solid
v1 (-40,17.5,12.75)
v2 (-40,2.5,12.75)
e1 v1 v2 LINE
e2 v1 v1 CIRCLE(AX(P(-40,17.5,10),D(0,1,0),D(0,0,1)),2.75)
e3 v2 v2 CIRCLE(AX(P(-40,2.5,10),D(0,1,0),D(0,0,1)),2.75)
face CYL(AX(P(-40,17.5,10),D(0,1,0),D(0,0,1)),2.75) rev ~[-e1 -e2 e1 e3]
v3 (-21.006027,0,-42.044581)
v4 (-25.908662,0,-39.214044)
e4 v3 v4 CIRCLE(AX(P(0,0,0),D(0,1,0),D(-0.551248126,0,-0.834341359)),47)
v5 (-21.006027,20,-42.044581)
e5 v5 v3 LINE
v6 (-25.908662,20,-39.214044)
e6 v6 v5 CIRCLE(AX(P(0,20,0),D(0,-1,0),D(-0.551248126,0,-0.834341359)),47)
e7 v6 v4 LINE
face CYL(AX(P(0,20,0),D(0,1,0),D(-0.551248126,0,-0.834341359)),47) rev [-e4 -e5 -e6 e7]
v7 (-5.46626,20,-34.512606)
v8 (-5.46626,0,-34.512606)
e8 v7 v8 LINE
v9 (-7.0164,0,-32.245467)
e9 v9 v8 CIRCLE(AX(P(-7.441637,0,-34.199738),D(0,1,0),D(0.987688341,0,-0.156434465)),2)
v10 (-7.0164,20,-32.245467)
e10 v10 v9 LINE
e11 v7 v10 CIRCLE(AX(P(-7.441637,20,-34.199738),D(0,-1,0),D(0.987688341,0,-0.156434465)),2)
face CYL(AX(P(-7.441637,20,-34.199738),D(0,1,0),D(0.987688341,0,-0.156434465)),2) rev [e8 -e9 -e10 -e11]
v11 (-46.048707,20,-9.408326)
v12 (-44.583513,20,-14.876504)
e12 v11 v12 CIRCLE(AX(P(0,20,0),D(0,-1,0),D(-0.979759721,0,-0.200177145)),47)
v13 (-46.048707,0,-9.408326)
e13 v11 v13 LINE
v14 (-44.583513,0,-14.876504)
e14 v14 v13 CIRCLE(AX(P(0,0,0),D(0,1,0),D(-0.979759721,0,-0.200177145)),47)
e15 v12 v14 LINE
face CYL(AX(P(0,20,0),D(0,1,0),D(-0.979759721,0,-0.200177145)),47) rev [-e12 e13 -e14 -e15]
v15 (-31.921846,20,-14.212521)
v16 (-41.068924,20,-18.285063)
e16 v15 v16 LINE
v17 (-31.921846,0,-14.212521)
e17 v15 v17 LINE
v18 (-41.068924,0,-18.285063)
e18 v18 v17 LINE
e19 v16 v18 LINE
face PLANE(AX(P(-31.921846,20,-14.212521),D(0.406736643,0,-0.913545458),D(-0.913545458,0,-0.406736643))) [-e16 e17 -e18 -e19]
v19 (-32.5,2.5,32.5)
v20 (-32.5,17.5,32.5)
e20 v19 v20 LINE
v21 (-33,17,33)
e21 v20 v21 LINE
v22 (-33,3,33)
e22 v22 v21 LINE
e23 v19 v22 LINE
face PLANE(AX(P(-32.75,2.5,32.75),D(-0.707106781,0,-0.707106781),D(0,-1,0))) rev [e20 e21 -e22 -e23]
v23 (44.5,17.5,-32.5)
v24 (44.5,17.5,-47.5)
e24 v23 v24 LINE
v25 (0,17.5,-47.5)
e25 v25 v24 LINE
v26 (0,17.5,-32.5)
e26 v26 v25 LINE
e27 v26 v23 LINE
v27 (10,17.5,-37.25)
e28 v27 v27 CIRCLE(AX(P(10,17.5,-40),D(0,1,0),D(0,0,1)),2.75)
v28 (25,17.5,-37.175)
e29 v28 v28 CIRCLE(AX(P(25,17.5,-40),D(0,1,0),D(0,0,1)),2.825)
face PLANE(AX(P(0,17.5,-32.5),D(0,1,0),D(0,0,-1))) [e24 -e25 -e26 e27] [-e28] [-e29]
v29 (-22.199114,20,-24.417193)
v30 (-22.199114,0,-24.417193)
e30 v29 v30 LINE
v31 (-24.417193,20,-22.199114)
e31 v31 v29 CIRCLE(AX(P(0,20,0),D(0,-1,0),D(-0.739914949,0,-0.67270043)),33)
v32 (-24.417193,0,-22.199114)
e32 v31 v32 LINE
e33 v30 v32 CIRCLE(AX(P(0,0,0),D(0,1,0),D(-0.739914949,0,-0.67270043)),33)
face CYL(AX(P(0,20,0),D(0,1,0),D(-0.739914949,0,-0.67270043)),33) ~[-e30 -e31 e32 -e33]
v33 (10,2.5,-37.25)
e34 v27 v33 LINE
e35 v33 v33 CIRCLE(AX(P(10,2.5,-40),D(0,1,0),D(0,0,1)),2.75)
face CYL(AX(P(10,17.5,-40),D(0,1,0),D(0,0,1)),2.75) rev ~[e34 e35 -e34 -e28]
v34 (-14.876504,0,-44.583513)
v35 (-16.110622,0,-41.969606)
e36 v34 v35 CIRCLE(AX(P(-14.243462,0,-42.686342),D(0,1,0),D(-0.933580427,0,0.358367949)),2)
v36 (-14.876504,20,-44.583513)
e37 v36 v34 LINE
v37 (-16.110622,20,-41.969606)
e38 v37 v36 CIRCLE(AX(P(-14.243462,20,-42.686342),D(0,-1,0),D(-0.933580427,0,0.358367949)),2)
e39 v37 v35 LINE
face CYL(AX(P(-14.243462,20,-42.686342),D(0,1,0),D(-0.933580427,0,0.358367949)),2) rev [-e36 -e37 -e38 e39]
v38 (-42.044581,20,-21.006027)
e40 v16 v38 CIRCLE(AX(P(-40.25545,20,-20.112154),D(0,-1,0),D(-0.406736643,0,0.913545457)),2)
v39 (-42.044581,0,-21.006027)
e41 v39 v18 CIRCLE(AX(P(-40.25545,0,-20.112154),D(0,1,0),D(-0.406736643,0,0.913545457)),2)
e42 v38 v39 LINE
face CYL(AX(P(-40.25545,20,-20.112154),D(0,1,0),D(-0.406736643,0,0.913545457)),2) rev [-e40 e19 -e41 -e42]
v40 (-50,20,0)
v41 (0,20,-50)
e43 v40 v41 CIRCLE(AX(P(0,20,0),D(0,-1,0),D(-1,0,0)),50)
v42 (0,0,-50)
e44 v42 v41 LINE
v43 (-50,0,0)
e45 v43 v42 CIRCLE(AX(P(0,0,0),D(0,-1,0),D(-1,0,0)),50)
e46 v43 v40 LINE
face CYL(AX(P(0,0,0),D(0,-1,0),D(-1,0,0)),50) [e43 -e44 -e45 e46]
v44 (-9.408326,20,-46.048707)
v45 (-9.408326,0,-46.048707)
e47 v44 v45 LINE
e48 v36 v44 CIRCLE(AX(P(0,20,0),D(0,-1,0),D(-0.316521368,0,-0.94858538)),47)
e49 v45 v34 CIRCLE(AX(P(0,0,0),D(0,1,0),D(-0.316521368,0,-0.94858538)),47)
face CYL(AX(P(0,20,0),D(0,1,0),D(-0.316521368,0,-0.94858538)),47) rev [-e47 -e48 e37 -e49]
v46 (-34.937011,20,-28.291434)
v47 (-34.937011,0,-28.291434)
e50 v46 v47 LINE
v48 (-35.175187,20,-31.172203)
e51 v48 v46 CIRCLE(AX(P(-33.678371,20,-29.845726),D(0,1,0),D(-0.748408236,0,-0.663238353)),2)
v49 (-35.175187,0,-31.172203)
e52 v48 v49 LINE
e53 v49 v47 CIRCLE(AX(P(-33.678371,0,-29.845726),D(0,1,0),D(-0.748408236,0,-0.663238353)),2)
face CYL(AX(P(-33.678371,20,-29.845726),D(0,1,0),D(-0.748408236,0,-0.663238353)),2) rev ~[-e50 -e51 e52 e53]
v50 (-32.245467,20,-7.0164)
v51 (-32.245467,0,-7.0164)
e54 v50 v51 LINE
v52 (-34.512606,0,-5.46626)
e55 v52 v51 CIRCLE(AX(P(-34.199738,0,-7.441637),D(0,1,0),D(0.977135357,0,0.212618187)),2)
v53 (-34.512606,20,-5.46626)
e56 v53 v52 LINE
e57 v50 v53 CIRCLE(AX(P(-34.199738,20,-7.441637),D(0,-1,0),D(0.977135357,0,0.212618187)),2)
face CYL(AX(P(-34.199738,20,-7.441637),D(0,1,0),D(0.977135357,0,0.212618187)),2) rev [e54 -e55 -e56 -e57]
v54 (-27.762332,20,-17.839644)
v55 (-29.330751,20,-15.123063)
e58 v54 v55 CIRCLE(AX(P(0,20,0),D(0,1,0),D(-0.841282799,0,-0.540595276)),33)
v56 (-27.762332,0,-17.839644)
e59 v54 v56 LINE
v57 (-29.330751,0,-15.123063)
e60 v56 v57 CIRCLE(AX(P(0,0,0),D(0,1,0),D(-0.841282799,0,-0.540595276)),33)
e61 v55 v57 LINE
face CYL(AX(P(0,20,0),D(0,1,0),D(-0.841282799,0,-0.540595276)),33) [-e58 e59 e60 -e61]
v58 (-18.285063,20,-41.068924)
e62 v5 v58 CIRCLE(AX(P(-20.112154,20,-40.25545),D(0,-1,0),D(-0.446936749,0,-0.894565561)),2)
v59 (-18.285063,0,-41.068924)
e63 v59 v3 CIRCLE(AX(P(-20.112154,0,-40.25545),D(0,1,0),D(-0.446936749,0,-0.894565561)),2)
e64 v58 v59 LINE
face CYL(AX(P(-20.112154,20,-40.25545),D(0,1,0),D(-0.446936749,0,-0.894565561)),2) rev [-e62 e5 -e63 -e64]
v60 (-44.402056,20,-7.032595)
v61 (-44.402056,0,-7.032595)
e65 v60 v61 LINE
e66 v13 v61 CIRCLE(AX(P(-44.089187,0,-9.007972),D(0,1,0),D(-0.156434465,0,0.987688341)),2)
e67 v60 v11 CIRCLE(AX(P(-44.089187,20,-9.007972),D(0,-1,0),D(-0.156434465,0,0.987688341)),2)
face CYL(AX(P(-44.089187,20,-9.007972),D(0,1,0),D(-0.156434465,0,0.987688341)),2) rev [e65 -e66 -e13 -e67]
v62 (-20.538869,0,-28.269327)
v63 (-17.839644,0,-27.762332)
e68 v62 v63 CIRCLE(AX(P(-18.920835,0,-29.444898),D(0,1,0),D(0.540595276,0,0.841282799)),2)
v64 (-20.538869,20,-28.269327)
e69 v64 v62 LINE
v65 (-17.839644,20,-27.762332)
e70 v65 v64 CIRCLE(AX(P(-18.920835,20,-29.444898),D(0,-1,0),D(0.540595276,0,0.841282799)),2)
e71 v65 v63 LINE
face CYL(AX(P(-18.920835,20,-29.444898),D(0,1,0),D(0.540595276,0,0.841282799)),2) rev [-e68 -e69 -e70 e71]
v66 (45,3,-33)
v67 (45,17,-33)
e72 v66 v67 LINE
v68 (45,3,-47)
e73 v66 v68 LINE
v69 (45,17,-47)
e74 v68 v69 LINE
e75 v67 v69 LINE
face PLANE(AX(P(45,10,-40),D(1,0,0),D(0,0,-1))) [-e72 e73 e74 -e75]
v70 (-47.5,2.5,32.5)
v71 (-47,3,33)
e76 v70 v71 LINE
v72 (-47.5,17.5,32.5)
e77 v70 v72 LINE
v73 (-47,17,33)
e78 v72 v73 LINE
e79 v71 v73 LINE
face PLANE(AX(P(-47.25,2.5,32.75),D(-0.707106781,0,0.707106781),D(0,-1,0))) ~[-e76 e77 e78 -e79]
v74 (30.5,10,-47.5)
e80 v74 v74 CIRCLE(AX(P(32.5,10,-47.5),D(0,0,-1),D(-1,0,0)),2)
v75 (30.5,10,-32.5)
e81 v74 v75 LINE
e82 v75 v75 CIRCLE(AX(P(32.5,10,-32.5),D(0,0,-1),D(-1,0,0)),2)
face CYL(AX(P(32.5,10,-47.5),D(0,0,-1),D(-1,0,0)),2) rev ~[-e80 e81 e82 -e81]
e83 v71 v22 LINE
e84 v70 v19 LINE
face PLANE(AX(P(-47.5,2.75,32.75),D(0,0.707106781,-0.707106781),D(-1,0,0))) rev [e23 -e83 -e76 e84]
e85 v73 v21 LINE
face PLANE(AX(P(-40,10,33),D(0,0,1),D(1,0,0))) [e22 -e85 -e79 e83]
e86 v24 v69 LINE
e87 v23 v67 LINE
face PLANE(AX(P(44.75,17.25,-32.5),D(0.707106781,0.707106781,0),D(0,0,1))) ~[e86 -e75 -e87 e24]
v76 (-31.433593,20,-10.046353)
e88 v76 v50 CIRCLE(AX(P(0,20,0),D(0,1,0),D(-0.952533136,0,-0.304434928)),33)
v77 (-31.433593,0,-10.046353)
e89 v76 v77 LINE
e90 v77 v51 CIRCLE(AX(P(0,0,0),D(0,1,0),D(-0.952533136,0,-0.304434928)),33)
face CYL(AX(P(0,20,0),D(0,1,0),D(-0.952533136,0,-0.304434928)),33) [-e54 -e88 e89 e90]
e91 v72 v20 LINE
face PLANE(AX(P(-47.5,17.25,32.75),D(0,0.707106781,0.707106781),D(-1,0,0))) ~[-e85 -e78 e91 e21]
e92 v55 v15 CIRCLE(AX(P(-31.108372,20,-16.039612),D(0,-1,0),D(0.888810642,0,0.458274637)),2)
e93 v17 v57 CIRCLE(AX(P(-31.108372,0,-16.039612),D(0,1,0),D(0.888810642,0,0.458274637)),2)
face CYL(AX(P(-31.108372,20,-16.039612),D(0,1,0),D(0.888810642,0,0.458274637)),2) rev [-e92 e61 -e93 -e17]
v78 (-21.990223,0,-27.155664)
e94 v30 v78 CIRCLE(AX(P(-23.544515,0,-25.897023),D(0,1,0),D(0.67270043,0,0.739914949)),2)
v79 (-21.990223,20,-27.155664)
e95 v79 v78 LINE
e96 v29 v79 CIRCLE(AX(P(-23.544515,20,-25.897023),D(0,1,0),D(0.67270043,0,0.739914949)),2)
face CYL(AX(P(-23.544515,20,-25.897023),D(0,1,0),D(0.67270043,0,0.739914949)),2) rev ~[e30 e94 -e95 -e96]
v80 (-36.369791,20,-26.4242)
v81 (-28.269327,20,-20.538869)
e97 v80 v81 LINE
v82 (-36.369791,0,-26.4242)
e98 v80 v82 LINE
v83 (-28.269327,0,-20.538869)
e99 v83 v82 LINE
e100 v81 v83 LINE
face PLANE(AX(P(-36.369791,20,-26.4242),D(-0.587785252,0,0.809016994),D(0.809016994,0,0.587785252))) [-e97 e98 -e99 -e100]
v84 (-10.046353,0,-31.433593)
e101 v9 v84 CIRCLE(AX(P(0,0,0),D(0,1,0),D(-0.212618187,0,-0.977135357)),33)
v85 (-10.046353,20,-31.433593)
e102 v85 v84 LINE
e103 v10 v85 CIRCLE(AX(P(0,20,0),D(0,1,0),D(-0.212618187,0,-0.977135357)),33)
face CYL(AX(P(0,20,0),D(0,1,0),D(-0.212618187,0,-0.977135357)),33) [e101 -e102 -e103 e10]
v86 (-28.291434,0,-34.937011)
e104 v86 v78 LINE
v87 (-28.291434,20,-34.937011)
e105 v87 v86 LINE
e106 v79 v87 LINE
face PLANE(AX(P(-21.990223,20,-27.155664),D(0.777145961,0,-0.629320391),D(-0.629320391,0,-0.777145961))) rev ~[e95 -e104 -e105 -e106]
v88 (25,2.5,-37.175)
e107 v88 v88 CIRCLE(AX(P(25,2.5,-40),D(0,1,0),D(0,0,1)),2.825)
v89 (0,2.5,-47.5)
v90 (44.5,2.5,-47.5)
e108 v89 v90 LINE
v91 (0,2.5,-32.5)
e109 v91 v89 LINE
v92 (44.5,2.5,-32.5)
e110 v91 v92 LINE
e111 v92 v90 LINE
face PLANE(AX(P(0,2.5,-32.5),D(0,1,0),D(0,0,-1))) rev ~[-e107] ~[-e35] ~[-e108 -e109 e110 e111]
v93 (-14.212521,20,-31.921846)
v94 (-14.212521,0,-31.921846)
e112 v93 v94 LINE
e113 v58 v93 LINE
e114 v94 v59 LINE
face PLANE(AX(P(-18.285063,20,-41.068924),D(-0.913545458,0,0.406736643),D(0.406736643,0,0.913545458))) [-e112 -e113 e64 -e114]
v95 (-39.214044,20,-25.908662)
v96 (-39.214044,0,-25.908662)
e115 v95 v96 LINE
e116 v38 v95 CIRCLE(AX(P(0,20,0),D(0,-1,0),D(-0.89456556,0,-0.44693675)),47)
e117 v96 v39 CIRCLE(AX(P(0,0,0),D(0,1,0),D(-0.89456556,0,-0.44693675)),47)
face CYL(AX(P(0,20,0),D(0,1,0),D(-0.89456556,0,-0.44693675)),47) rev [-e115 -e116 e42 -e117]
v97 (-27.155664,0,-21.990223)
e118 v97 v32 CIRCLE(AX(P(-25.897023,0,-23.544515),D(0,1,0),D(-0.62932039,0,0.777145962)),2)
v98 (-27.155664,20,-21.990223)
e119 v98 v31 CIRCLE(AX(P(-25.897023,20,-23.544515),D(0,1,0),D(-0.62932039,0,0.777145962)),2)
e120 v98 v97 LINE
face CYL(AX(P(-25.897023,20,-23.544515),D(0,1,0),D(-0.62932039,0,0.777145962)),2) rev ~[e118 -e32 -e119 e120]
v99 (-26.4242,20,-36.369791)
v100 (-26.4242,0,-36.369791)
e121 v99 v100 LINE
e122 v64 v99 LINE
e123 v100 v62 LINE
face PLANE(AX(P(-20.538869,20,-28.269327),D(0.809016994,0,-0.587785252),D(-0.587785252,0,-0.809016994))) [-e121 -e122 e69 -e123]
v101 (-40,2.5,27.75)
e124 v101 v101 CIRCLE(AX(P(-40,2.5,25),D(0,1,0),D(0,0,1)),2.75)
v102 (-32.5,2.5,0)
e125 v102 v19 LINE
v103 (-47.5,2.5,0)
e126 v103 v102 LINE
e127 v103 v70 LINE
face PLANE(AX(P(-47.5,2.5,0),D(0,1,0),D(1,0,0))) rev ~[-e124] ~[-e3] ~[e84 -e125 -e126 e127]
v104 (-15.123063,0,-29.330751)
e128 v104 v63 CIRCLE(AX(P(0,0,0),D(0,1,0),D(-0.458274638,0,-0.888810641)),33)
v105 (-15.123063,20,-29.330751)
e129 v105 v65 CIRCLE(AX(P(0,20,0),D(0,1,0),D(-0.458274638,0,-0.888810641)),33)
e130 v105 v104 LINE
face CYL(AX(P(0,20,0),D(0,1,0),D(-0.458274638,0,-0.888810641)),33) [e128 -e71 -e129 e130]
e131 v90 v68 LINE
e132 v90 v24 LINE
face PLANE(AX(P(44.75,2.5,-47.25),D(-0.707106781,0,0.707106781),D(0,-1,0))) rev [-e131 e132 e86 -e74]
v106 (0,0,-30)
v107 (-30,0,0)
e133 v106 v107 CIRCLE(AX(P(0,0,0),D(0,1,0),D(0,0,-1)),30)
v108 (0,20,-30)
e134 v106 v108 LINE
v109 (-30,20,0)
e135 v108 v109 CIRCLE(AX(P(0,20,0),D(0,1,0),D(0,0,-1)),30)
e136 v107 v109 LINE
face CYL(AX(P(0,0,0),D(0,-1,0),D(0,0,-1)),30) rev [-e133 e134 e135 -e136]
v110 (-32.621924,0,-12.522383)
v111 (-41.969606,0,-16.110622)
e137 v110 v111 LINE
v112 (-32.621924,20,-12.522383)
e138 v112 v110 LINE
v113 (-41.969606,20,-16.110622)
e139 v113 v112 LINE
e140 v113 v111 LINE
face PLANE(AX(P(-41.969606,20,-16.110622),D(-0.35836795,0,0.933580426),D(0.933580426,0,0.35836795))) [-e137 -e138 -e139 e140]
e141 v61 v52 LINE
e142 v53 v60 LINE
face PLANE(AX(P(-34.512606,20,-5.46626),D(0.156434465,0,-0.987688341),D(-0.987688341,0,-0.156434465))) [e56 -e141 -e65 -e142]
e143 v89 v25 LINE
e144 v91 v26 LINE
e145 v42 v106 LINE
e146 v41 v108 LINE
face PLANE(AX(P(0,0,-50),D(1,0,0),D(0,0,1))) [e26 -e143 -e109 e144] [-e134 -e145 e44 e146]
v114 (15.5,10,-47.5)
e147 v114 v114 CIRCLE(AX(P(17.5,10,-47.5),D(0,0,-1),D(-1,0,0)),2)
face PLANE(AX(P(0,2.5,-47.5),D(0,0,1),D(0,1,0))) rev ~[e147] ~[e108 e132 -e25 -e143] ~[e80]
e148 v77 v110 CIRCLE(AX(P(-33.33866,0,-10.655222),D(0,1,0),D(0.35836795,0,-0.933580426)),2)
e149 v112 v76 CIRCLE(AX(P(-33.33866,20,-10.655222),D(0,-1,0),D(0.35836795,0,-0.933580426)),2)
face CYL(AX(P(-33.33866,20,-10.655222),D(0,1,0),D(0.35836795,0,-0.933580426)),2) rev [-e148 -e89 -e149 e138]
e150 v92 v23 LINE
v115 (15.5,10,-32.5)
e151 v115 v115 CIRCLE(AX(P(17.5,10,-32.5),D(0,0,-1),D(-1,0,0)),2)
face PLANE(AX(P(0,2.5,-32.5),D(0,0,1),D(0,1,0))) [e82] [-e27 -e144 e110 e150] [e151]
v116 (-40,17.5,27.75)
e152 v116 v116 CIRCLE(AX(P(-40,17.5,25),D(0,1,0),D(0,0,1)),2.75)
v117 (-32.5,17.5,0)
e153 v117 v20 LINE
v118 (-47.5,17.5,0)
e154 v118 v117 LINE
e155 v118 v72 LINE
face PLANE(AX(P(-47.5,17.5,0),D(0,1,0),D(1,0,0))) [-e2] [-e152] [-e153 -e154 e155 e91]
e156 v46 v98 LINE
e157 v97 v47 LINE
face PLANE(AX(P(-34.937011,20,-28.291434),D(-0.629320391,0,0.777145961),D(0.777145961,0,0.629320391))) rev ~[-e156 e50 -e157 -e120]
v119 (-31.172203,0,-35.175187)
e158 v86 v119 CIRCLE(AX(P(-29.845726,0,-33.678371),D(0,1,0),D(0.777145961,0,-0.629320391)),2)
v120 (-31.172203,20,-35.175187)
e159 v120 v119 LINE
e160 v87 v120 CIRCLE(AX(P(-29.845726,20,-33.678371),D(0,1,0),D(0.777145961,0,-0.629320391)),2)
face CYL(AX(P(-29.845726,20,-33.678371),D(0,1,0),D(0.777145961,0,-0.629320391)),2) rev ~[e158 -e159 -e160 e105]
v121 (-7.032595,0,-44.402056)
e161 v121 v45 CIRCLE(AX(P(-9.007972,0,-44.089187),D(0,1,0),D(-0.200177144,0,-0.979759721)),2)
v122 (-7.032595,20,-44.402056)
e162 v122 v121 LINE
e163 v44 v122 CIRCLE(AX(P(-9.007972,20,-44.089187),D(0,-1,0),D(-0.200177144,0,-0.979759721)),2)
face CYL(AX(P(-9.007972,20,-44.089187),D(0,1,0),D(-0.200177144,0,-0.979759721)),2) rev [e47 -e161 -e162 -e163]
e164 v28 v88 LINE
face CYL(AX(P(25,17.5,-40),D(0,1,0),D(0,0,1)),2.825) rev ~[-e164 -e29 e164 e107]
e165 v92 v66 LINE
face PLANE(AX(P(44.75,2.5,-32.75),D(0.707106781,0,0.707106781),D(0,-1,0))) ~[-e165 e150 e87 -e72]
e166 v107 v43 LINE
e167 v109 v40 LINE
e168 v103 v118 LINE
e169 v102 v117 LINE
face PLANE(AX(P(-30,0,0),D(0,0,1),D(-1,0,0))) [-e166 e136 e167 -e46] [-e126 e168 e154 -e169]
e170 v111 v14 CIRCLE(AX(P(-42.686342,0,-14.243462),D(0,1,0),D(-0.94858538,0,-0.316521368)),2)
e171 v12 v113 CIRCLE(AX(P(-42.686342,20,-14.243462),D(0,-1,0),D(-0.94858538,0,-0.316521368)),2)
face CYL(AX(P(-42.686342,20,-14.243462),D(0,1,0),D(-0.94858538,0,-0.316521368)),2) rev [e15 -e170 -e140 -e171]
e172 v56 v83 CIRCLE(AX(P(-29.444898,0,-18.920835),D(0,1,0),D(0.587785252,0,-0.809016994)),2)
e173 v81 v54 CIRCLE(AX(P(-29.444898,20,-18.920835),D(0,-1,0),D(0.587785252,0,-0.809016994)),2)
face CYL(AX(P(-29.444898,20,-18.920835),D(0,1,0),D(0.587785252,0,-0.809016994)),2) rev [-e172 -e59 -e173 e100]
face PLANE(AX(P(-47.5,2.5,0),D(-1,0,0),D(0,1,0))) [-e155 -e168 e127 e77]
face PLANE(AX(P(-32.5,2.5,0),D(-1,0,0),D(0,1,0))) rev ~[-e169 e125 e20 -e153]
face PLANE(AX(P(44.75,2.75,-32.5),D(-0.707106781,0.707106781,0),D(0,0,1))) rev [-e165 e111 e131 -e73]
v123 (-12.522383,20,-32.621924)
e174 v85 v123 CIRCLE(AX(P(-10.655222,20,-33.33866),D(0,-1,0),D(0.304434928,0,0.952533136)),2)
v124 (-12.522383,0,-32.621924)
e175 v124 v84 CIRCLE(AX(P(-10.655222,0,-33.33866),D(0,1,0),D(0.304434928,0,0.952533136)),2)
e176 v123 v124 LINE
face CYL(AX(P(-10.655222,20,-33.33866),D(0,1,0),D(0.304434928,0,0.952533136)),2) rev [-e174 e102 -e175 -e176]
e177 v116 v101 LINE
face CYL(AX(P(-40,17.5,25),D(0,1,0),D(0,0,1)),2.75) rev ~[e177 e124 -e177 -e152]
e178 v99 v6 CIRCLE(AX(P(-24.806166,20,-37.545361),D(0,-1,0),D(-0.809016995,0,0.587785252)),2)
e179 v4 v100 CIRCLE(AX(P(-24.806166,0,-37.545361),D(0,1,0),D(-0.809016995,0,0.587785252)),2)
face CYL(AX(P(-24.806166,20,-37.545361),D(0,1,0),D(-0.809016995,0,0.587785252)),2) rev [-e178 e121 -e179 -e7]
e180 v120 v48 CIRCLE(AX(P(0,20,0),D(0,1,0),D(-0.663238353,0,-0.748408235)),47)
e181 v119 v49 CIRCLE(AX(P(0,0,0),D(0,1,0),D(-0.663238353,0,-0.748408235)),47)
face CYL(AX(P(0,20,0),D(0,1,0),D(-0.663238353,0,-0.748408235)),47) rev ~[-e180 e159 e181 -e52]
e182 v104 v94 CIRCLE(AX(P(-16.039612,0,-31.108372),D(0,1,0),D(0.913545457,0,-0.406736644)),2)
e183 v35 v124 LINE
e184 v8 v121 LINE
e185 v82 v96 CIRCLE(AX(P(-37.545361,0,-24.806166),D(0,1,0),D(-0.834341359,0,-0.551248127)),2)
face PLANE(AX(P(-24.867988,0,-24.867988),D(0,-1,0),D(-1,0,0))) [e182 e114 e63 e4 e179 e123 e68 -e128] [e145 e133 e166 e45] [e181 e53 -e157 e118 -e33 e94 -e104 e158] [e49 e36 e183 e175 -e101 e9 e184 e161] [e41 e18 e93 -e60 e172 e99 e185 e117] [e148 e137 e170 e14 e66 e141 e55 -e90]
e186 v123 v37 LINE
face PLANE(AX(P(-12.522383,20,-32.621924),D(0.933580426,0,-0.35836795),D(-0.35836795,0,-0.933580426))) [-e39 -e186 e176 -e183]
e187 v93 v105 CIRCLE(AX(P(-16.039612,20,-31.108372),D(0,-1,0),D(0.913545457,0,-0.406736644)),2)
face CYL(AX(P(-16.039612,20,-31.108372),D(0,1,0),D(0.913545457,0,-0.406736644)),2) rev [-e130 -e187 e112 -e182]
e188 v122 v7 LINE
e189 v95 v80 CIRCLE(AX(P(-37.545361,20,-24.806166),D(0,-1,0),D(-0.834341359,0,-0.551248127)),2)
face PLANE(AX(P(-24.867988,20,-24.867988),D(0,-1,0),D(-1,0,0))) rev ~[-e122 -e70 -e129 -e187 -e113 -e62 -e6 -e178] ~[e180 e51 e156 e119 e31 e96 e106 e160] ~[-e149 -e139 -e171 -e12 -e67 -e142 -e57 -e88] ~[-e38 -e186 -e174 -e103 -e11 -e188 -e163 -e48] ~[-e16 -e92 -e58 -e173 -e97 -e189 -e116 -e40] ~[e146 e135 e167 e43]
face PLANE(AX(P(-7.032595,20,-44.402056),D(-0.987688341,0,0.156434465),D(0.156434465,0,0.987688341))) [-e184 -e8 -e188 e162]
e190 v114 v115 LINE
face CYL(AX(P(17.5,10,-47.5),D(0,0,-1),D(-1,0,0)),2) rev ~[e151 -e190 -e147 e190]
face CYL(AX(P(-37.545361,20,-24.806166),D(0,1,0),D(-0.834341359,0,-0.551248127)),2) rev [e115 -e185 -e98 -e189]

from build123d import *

# Parameters (mm, degrees)
BOSS_EXTRUDE1_DEPTH = 20
SKETCH2_W           = 15
SKETCH2_H           = 15
BOSS_EXTRUDE2_DEPTH = 33
SKETCH3_W           = 15
SKETCH3_H           = 15
BOSS_EXTRUDE3_DEPTH = 45
SKETCH4_R           = 2.75
SKETCH4_R_2         = 2.825
CUT_EXTRUDE1_DEPTH  = 73.844011422
CUT_EXTRUDE2_DEPTH  = 74.484692283
CHAMFER1_SIZE       = 0.5
SKETCH6_R           = 2
CUT_EXTRUDE3_DEPTH  = 20


with BuildPart() as part:
    # Sketch1 → Boss-Extrude1 (new body)
    with BuildSketch(Plane(origin=(0, 0, 0), x_dir=(1, 0, 0), z_dir=(0, 1, 0))):
        with BuildLine():
            Line((0, 50), (0, 30))
            ThreePointArc((0, 30), (-21.213203436, 21.213203436), (-30, 0))
            Line((-30, 0), (-50, 0))
            ThreePointArc((-50, 0), (-35.355339059, 35.355339059), (0, 50))
        make_face()
    extrude(amount=BOSS_EXTRUDE1_DEPTH)

    # Sketch2 → Boss-Extrude2 (add)
    with BuildSketch(Plane.XY):
        with Locations((-40, 10)):
            Rectangle(SKETCH2_W, SKETCH2_H)
    extrude(amount=BOSS_EXTRUDE2_DEPTH)

    # Sketch3 → Boss-Extrude3 (add)
    with BuildSketch(Plane(origin=(0, 0, 0), x_dir=(0, 0, -1), z_dir=(1, 0, 0))):
        with Locations((40, 10)):
            Rectangle(SKETCH3_W, SKETCH3_H)
    extrude(amount=BOSS_EXTRUDE3_DEPTH)

    # Sketch4 → Cut-Extrude1 (cut, through all)
    with BuildSketch(Plane(origin=(0, 17.5, 0), x_dir=(1, 0, 0), z_dir=(0, 1, 0))):
        with Locations(Location((10, 40, 0), (0, 0, 270))):
            Circle(SKETCH4_R)
        with Locations(Location((25, 40, 0), (0, 0, 270))):
            Circle(SKETCH4_R_2)
        with Locations(Location((-40, -10, 0), (0, 0, 270))):
            Circle(SKETCH4_R)
        with Locations(Location((-40, -25, 0), (0, 0, 270))):
            Circle(SKETCH4_R)
    extrude(amount=-CUT_EXTRUDE1_DEPTH, mode=Mode.SUBTRACT)

    # Sketch5 → Cut-Extrude2 (cut, through all)
    with BuildSketch(Plane(origin=(0, 20, 0), x_dir=(1, 0, 0), z_dir=(0, 1, 0))):
        with BuildLine():
            Line((-21.990223117, 27.155663999), (-28.291433976, 34.937011371))
            ThreePointArc((-28.291433976, 34.937011371), (-29.68093252, 35.671569812), (-31.172202606, 35.17518706))
            ThreePointArc((-31.172202606, 35.17518706), (-33.234018716, 33.234018716), (-35.17518706, 31.172202606))
            ThreePointArc((-35.17518706, 31.172202606), (-35.671569812, 29.68093252), (-34.937011371, 28.291433976))
            Line((-34.937011371, 28.291433976), (-27.155663999, 21.990223117))
            ThreePointArc((-27.155663999, 21.990223117), (-25.744904759, 21.550308438), (-24.417193319, 22.199114181))
            ThreePointArc((-24.417193319, 22.199114181), (-23.334523779, 23.334523779), (-22.199114181, 24.417193319))
            ThreePointArc((-22.199114181, 24.417193319), (-21.550308438, 25.744904759), (-21.990223117, 27.155663999))
        make_face()
        with BuildLine():
            Line((-20.538868638, 28.26932746), (-26.424199651, 36.369790662))
            ThreePointArc((-26.424199651, 36.369790662), (-26.774099933, 37.902060905), (-25.908661914, 39.214043885))
            ThreePointArc((-25.908661914, 39.214043885), (-23.5, 40.703193978), (-21.006027233, 42.044581338))
            ThreePointArc((-21.006027233, 42.044581338), (-19.437097633, 42.138081158), (-18.285062818, 41.068923503))
            Line((-18.285062818, 41.068923503), (-14.21252141, 31.921845736))
            ThreePointArc((-14.21252141, 31.921845736), (-14.152727818, 30.445298653), (-15.123063049, 29.330751167))
            ThreePointArc((-15.123063049, 29.330751167), (-16.5, 28.578838325), (-17.839644098, 27.762332367))
            ThreePointArc((-17.839644098, 27.762332367), (-19.290038151, 27.47927115), (-20.538868638, 28.26932746))
        make_face()
        with BuildLine():
            Line((-12.522383321, 32.621923854), (-16.110622392, 41.969606219))
            ThreePointArc((-16.110622392, 41.969606219), (-16.05201939, 43.540226476), (-14.876504274, 44.583512878))
            ThreePointArc((-14.876504274, 44.583512878), (-12.16449512, 45.398513836), (-9.408325818, 46.04870688))
            ThreePointArc((-9.408325818, 46.04870688), (-7.868656664, 45.73295191), (-7.032594847, 44.402056368))
            Line((-7.032594847, 44.402056368), (-5.466259855, 34.512606439))
            ThreePointArc((-5.466259855, 34.512606439), (-5.790662187, 33.070895758), (-7.016400163, 32.245466794))
            ThreePointArc((-7.016400163, 32.245466794), (-8.541028488, 31.875552268), (-10.046352613, 31.433593482))
            ThreePointArc((-10.046352613, 31.433593482), (-11.52058732, 31.535566946), (-12.522383321, 32.621923854))
        make_face()
        with BuildLine():
            Line((-31.921845736, 14.21252141), (-41.068923503, 18.285062818))
            ThreePointArc((-41.068923503, 18.285062818), (-42.138081158, 19.437097633), (-42.044581338, 21.006027233))
            ThreePointArc((-42.044581338, 21.006027233), (-40.703193978, 23.5), (-39.214043885, 25.908661914))
            ThreePointArc((-39.214043885, 25.908661914), (-37.902060905, 26.774099933), (-36.369790662, 26.424199651))
            Line((-36.369790662, 26.424199651), (-28.26932746, 20.538868638))
            ThreePointArc((-28.26932746, 20.538868638), (-27.47927115, 19.290038151), (-27.762332367, 17.839644098))
            ThreePointArc((-27.762332367, 17.839644098), (-28.578838325, 16.5), (-29.330751167, 15.123063049))
            ThreePointArc((-29.330751167, 15.123063049), (-30.445298653, 14.152727818), (-31.921845736, 14.21252141))
        make_face()
        with BuildLine():
            Line((-34.512606439, 5.466259855), (-44.402056368, 7.032594847))
            ThreePointArc((-44.402056368, 7.032594847), (-45.73295191, 7.868656664), (-46.04870688, 9.408325818))
            ThreePointArc((-46.04870688, 9.408325818), (-45.398513836, 12.16449512), (-44.583512878, 14.876504274))
            ThreePointArc((-44.583512878, 14.876504274), (-43.540226476, 16.05201939), (-41.969606219, 16.110622392))
            Line((-41.969606219, 16.110622392), (-32.621923854, 12.522383321))
            ThreePointArc((-32.621923854, 12.522383321), (-31.535566946, 11.52058732), (-31.433593482, 10.046352613))
            ThreePointArc((-31.433593482, 10.046352613), (-31.875552268, 8.541028488), (-32.245466794, 7.016400163))
            ThreePointArc((-32.245466794, 7.016400163), (-33.070895758, 5.790662187), (-34.512606439, 5.466259855))
        make_face()
    extrude(amount=-CUT_EXTRUDE2_DEPTH, mode=Mode.SUBTRACT)

    # Chamfer1
    chamfer1_edges = [part.edges().sort_by_distance(p)[0] for p in [
        (-32.5, 10, 33),
        (-40, 17.5, 33),
        (-47.5, 10, 33),
        (-40, 2.5, 33),
        (45, 10, -47.5),
        (45, 17.5, -40),
        (45, 10, -32.5),
        (45, 2.5, -40),
    ]]
    chamfer(chamfer1_edges, length=CHAMFER1_SIZE)

    # Sketch6 → Cut-Extrude3 (cut)
    with BuildSketch(Plane(origin=(0, 0, -47.5), x_dir=(-1, 0, 0), z_dir=(0, 0, -1))):
        with Locations((-17.5, 10)):
            Circle(SKETCH6_R)
        with Locations((-32.5, 10)):
            Circle(SKETCH6_R)
    extrude(amount=-CUT_EXTRUDE3_DEPTH, mode=Mode.SUBTRACT)


solid = part.part
